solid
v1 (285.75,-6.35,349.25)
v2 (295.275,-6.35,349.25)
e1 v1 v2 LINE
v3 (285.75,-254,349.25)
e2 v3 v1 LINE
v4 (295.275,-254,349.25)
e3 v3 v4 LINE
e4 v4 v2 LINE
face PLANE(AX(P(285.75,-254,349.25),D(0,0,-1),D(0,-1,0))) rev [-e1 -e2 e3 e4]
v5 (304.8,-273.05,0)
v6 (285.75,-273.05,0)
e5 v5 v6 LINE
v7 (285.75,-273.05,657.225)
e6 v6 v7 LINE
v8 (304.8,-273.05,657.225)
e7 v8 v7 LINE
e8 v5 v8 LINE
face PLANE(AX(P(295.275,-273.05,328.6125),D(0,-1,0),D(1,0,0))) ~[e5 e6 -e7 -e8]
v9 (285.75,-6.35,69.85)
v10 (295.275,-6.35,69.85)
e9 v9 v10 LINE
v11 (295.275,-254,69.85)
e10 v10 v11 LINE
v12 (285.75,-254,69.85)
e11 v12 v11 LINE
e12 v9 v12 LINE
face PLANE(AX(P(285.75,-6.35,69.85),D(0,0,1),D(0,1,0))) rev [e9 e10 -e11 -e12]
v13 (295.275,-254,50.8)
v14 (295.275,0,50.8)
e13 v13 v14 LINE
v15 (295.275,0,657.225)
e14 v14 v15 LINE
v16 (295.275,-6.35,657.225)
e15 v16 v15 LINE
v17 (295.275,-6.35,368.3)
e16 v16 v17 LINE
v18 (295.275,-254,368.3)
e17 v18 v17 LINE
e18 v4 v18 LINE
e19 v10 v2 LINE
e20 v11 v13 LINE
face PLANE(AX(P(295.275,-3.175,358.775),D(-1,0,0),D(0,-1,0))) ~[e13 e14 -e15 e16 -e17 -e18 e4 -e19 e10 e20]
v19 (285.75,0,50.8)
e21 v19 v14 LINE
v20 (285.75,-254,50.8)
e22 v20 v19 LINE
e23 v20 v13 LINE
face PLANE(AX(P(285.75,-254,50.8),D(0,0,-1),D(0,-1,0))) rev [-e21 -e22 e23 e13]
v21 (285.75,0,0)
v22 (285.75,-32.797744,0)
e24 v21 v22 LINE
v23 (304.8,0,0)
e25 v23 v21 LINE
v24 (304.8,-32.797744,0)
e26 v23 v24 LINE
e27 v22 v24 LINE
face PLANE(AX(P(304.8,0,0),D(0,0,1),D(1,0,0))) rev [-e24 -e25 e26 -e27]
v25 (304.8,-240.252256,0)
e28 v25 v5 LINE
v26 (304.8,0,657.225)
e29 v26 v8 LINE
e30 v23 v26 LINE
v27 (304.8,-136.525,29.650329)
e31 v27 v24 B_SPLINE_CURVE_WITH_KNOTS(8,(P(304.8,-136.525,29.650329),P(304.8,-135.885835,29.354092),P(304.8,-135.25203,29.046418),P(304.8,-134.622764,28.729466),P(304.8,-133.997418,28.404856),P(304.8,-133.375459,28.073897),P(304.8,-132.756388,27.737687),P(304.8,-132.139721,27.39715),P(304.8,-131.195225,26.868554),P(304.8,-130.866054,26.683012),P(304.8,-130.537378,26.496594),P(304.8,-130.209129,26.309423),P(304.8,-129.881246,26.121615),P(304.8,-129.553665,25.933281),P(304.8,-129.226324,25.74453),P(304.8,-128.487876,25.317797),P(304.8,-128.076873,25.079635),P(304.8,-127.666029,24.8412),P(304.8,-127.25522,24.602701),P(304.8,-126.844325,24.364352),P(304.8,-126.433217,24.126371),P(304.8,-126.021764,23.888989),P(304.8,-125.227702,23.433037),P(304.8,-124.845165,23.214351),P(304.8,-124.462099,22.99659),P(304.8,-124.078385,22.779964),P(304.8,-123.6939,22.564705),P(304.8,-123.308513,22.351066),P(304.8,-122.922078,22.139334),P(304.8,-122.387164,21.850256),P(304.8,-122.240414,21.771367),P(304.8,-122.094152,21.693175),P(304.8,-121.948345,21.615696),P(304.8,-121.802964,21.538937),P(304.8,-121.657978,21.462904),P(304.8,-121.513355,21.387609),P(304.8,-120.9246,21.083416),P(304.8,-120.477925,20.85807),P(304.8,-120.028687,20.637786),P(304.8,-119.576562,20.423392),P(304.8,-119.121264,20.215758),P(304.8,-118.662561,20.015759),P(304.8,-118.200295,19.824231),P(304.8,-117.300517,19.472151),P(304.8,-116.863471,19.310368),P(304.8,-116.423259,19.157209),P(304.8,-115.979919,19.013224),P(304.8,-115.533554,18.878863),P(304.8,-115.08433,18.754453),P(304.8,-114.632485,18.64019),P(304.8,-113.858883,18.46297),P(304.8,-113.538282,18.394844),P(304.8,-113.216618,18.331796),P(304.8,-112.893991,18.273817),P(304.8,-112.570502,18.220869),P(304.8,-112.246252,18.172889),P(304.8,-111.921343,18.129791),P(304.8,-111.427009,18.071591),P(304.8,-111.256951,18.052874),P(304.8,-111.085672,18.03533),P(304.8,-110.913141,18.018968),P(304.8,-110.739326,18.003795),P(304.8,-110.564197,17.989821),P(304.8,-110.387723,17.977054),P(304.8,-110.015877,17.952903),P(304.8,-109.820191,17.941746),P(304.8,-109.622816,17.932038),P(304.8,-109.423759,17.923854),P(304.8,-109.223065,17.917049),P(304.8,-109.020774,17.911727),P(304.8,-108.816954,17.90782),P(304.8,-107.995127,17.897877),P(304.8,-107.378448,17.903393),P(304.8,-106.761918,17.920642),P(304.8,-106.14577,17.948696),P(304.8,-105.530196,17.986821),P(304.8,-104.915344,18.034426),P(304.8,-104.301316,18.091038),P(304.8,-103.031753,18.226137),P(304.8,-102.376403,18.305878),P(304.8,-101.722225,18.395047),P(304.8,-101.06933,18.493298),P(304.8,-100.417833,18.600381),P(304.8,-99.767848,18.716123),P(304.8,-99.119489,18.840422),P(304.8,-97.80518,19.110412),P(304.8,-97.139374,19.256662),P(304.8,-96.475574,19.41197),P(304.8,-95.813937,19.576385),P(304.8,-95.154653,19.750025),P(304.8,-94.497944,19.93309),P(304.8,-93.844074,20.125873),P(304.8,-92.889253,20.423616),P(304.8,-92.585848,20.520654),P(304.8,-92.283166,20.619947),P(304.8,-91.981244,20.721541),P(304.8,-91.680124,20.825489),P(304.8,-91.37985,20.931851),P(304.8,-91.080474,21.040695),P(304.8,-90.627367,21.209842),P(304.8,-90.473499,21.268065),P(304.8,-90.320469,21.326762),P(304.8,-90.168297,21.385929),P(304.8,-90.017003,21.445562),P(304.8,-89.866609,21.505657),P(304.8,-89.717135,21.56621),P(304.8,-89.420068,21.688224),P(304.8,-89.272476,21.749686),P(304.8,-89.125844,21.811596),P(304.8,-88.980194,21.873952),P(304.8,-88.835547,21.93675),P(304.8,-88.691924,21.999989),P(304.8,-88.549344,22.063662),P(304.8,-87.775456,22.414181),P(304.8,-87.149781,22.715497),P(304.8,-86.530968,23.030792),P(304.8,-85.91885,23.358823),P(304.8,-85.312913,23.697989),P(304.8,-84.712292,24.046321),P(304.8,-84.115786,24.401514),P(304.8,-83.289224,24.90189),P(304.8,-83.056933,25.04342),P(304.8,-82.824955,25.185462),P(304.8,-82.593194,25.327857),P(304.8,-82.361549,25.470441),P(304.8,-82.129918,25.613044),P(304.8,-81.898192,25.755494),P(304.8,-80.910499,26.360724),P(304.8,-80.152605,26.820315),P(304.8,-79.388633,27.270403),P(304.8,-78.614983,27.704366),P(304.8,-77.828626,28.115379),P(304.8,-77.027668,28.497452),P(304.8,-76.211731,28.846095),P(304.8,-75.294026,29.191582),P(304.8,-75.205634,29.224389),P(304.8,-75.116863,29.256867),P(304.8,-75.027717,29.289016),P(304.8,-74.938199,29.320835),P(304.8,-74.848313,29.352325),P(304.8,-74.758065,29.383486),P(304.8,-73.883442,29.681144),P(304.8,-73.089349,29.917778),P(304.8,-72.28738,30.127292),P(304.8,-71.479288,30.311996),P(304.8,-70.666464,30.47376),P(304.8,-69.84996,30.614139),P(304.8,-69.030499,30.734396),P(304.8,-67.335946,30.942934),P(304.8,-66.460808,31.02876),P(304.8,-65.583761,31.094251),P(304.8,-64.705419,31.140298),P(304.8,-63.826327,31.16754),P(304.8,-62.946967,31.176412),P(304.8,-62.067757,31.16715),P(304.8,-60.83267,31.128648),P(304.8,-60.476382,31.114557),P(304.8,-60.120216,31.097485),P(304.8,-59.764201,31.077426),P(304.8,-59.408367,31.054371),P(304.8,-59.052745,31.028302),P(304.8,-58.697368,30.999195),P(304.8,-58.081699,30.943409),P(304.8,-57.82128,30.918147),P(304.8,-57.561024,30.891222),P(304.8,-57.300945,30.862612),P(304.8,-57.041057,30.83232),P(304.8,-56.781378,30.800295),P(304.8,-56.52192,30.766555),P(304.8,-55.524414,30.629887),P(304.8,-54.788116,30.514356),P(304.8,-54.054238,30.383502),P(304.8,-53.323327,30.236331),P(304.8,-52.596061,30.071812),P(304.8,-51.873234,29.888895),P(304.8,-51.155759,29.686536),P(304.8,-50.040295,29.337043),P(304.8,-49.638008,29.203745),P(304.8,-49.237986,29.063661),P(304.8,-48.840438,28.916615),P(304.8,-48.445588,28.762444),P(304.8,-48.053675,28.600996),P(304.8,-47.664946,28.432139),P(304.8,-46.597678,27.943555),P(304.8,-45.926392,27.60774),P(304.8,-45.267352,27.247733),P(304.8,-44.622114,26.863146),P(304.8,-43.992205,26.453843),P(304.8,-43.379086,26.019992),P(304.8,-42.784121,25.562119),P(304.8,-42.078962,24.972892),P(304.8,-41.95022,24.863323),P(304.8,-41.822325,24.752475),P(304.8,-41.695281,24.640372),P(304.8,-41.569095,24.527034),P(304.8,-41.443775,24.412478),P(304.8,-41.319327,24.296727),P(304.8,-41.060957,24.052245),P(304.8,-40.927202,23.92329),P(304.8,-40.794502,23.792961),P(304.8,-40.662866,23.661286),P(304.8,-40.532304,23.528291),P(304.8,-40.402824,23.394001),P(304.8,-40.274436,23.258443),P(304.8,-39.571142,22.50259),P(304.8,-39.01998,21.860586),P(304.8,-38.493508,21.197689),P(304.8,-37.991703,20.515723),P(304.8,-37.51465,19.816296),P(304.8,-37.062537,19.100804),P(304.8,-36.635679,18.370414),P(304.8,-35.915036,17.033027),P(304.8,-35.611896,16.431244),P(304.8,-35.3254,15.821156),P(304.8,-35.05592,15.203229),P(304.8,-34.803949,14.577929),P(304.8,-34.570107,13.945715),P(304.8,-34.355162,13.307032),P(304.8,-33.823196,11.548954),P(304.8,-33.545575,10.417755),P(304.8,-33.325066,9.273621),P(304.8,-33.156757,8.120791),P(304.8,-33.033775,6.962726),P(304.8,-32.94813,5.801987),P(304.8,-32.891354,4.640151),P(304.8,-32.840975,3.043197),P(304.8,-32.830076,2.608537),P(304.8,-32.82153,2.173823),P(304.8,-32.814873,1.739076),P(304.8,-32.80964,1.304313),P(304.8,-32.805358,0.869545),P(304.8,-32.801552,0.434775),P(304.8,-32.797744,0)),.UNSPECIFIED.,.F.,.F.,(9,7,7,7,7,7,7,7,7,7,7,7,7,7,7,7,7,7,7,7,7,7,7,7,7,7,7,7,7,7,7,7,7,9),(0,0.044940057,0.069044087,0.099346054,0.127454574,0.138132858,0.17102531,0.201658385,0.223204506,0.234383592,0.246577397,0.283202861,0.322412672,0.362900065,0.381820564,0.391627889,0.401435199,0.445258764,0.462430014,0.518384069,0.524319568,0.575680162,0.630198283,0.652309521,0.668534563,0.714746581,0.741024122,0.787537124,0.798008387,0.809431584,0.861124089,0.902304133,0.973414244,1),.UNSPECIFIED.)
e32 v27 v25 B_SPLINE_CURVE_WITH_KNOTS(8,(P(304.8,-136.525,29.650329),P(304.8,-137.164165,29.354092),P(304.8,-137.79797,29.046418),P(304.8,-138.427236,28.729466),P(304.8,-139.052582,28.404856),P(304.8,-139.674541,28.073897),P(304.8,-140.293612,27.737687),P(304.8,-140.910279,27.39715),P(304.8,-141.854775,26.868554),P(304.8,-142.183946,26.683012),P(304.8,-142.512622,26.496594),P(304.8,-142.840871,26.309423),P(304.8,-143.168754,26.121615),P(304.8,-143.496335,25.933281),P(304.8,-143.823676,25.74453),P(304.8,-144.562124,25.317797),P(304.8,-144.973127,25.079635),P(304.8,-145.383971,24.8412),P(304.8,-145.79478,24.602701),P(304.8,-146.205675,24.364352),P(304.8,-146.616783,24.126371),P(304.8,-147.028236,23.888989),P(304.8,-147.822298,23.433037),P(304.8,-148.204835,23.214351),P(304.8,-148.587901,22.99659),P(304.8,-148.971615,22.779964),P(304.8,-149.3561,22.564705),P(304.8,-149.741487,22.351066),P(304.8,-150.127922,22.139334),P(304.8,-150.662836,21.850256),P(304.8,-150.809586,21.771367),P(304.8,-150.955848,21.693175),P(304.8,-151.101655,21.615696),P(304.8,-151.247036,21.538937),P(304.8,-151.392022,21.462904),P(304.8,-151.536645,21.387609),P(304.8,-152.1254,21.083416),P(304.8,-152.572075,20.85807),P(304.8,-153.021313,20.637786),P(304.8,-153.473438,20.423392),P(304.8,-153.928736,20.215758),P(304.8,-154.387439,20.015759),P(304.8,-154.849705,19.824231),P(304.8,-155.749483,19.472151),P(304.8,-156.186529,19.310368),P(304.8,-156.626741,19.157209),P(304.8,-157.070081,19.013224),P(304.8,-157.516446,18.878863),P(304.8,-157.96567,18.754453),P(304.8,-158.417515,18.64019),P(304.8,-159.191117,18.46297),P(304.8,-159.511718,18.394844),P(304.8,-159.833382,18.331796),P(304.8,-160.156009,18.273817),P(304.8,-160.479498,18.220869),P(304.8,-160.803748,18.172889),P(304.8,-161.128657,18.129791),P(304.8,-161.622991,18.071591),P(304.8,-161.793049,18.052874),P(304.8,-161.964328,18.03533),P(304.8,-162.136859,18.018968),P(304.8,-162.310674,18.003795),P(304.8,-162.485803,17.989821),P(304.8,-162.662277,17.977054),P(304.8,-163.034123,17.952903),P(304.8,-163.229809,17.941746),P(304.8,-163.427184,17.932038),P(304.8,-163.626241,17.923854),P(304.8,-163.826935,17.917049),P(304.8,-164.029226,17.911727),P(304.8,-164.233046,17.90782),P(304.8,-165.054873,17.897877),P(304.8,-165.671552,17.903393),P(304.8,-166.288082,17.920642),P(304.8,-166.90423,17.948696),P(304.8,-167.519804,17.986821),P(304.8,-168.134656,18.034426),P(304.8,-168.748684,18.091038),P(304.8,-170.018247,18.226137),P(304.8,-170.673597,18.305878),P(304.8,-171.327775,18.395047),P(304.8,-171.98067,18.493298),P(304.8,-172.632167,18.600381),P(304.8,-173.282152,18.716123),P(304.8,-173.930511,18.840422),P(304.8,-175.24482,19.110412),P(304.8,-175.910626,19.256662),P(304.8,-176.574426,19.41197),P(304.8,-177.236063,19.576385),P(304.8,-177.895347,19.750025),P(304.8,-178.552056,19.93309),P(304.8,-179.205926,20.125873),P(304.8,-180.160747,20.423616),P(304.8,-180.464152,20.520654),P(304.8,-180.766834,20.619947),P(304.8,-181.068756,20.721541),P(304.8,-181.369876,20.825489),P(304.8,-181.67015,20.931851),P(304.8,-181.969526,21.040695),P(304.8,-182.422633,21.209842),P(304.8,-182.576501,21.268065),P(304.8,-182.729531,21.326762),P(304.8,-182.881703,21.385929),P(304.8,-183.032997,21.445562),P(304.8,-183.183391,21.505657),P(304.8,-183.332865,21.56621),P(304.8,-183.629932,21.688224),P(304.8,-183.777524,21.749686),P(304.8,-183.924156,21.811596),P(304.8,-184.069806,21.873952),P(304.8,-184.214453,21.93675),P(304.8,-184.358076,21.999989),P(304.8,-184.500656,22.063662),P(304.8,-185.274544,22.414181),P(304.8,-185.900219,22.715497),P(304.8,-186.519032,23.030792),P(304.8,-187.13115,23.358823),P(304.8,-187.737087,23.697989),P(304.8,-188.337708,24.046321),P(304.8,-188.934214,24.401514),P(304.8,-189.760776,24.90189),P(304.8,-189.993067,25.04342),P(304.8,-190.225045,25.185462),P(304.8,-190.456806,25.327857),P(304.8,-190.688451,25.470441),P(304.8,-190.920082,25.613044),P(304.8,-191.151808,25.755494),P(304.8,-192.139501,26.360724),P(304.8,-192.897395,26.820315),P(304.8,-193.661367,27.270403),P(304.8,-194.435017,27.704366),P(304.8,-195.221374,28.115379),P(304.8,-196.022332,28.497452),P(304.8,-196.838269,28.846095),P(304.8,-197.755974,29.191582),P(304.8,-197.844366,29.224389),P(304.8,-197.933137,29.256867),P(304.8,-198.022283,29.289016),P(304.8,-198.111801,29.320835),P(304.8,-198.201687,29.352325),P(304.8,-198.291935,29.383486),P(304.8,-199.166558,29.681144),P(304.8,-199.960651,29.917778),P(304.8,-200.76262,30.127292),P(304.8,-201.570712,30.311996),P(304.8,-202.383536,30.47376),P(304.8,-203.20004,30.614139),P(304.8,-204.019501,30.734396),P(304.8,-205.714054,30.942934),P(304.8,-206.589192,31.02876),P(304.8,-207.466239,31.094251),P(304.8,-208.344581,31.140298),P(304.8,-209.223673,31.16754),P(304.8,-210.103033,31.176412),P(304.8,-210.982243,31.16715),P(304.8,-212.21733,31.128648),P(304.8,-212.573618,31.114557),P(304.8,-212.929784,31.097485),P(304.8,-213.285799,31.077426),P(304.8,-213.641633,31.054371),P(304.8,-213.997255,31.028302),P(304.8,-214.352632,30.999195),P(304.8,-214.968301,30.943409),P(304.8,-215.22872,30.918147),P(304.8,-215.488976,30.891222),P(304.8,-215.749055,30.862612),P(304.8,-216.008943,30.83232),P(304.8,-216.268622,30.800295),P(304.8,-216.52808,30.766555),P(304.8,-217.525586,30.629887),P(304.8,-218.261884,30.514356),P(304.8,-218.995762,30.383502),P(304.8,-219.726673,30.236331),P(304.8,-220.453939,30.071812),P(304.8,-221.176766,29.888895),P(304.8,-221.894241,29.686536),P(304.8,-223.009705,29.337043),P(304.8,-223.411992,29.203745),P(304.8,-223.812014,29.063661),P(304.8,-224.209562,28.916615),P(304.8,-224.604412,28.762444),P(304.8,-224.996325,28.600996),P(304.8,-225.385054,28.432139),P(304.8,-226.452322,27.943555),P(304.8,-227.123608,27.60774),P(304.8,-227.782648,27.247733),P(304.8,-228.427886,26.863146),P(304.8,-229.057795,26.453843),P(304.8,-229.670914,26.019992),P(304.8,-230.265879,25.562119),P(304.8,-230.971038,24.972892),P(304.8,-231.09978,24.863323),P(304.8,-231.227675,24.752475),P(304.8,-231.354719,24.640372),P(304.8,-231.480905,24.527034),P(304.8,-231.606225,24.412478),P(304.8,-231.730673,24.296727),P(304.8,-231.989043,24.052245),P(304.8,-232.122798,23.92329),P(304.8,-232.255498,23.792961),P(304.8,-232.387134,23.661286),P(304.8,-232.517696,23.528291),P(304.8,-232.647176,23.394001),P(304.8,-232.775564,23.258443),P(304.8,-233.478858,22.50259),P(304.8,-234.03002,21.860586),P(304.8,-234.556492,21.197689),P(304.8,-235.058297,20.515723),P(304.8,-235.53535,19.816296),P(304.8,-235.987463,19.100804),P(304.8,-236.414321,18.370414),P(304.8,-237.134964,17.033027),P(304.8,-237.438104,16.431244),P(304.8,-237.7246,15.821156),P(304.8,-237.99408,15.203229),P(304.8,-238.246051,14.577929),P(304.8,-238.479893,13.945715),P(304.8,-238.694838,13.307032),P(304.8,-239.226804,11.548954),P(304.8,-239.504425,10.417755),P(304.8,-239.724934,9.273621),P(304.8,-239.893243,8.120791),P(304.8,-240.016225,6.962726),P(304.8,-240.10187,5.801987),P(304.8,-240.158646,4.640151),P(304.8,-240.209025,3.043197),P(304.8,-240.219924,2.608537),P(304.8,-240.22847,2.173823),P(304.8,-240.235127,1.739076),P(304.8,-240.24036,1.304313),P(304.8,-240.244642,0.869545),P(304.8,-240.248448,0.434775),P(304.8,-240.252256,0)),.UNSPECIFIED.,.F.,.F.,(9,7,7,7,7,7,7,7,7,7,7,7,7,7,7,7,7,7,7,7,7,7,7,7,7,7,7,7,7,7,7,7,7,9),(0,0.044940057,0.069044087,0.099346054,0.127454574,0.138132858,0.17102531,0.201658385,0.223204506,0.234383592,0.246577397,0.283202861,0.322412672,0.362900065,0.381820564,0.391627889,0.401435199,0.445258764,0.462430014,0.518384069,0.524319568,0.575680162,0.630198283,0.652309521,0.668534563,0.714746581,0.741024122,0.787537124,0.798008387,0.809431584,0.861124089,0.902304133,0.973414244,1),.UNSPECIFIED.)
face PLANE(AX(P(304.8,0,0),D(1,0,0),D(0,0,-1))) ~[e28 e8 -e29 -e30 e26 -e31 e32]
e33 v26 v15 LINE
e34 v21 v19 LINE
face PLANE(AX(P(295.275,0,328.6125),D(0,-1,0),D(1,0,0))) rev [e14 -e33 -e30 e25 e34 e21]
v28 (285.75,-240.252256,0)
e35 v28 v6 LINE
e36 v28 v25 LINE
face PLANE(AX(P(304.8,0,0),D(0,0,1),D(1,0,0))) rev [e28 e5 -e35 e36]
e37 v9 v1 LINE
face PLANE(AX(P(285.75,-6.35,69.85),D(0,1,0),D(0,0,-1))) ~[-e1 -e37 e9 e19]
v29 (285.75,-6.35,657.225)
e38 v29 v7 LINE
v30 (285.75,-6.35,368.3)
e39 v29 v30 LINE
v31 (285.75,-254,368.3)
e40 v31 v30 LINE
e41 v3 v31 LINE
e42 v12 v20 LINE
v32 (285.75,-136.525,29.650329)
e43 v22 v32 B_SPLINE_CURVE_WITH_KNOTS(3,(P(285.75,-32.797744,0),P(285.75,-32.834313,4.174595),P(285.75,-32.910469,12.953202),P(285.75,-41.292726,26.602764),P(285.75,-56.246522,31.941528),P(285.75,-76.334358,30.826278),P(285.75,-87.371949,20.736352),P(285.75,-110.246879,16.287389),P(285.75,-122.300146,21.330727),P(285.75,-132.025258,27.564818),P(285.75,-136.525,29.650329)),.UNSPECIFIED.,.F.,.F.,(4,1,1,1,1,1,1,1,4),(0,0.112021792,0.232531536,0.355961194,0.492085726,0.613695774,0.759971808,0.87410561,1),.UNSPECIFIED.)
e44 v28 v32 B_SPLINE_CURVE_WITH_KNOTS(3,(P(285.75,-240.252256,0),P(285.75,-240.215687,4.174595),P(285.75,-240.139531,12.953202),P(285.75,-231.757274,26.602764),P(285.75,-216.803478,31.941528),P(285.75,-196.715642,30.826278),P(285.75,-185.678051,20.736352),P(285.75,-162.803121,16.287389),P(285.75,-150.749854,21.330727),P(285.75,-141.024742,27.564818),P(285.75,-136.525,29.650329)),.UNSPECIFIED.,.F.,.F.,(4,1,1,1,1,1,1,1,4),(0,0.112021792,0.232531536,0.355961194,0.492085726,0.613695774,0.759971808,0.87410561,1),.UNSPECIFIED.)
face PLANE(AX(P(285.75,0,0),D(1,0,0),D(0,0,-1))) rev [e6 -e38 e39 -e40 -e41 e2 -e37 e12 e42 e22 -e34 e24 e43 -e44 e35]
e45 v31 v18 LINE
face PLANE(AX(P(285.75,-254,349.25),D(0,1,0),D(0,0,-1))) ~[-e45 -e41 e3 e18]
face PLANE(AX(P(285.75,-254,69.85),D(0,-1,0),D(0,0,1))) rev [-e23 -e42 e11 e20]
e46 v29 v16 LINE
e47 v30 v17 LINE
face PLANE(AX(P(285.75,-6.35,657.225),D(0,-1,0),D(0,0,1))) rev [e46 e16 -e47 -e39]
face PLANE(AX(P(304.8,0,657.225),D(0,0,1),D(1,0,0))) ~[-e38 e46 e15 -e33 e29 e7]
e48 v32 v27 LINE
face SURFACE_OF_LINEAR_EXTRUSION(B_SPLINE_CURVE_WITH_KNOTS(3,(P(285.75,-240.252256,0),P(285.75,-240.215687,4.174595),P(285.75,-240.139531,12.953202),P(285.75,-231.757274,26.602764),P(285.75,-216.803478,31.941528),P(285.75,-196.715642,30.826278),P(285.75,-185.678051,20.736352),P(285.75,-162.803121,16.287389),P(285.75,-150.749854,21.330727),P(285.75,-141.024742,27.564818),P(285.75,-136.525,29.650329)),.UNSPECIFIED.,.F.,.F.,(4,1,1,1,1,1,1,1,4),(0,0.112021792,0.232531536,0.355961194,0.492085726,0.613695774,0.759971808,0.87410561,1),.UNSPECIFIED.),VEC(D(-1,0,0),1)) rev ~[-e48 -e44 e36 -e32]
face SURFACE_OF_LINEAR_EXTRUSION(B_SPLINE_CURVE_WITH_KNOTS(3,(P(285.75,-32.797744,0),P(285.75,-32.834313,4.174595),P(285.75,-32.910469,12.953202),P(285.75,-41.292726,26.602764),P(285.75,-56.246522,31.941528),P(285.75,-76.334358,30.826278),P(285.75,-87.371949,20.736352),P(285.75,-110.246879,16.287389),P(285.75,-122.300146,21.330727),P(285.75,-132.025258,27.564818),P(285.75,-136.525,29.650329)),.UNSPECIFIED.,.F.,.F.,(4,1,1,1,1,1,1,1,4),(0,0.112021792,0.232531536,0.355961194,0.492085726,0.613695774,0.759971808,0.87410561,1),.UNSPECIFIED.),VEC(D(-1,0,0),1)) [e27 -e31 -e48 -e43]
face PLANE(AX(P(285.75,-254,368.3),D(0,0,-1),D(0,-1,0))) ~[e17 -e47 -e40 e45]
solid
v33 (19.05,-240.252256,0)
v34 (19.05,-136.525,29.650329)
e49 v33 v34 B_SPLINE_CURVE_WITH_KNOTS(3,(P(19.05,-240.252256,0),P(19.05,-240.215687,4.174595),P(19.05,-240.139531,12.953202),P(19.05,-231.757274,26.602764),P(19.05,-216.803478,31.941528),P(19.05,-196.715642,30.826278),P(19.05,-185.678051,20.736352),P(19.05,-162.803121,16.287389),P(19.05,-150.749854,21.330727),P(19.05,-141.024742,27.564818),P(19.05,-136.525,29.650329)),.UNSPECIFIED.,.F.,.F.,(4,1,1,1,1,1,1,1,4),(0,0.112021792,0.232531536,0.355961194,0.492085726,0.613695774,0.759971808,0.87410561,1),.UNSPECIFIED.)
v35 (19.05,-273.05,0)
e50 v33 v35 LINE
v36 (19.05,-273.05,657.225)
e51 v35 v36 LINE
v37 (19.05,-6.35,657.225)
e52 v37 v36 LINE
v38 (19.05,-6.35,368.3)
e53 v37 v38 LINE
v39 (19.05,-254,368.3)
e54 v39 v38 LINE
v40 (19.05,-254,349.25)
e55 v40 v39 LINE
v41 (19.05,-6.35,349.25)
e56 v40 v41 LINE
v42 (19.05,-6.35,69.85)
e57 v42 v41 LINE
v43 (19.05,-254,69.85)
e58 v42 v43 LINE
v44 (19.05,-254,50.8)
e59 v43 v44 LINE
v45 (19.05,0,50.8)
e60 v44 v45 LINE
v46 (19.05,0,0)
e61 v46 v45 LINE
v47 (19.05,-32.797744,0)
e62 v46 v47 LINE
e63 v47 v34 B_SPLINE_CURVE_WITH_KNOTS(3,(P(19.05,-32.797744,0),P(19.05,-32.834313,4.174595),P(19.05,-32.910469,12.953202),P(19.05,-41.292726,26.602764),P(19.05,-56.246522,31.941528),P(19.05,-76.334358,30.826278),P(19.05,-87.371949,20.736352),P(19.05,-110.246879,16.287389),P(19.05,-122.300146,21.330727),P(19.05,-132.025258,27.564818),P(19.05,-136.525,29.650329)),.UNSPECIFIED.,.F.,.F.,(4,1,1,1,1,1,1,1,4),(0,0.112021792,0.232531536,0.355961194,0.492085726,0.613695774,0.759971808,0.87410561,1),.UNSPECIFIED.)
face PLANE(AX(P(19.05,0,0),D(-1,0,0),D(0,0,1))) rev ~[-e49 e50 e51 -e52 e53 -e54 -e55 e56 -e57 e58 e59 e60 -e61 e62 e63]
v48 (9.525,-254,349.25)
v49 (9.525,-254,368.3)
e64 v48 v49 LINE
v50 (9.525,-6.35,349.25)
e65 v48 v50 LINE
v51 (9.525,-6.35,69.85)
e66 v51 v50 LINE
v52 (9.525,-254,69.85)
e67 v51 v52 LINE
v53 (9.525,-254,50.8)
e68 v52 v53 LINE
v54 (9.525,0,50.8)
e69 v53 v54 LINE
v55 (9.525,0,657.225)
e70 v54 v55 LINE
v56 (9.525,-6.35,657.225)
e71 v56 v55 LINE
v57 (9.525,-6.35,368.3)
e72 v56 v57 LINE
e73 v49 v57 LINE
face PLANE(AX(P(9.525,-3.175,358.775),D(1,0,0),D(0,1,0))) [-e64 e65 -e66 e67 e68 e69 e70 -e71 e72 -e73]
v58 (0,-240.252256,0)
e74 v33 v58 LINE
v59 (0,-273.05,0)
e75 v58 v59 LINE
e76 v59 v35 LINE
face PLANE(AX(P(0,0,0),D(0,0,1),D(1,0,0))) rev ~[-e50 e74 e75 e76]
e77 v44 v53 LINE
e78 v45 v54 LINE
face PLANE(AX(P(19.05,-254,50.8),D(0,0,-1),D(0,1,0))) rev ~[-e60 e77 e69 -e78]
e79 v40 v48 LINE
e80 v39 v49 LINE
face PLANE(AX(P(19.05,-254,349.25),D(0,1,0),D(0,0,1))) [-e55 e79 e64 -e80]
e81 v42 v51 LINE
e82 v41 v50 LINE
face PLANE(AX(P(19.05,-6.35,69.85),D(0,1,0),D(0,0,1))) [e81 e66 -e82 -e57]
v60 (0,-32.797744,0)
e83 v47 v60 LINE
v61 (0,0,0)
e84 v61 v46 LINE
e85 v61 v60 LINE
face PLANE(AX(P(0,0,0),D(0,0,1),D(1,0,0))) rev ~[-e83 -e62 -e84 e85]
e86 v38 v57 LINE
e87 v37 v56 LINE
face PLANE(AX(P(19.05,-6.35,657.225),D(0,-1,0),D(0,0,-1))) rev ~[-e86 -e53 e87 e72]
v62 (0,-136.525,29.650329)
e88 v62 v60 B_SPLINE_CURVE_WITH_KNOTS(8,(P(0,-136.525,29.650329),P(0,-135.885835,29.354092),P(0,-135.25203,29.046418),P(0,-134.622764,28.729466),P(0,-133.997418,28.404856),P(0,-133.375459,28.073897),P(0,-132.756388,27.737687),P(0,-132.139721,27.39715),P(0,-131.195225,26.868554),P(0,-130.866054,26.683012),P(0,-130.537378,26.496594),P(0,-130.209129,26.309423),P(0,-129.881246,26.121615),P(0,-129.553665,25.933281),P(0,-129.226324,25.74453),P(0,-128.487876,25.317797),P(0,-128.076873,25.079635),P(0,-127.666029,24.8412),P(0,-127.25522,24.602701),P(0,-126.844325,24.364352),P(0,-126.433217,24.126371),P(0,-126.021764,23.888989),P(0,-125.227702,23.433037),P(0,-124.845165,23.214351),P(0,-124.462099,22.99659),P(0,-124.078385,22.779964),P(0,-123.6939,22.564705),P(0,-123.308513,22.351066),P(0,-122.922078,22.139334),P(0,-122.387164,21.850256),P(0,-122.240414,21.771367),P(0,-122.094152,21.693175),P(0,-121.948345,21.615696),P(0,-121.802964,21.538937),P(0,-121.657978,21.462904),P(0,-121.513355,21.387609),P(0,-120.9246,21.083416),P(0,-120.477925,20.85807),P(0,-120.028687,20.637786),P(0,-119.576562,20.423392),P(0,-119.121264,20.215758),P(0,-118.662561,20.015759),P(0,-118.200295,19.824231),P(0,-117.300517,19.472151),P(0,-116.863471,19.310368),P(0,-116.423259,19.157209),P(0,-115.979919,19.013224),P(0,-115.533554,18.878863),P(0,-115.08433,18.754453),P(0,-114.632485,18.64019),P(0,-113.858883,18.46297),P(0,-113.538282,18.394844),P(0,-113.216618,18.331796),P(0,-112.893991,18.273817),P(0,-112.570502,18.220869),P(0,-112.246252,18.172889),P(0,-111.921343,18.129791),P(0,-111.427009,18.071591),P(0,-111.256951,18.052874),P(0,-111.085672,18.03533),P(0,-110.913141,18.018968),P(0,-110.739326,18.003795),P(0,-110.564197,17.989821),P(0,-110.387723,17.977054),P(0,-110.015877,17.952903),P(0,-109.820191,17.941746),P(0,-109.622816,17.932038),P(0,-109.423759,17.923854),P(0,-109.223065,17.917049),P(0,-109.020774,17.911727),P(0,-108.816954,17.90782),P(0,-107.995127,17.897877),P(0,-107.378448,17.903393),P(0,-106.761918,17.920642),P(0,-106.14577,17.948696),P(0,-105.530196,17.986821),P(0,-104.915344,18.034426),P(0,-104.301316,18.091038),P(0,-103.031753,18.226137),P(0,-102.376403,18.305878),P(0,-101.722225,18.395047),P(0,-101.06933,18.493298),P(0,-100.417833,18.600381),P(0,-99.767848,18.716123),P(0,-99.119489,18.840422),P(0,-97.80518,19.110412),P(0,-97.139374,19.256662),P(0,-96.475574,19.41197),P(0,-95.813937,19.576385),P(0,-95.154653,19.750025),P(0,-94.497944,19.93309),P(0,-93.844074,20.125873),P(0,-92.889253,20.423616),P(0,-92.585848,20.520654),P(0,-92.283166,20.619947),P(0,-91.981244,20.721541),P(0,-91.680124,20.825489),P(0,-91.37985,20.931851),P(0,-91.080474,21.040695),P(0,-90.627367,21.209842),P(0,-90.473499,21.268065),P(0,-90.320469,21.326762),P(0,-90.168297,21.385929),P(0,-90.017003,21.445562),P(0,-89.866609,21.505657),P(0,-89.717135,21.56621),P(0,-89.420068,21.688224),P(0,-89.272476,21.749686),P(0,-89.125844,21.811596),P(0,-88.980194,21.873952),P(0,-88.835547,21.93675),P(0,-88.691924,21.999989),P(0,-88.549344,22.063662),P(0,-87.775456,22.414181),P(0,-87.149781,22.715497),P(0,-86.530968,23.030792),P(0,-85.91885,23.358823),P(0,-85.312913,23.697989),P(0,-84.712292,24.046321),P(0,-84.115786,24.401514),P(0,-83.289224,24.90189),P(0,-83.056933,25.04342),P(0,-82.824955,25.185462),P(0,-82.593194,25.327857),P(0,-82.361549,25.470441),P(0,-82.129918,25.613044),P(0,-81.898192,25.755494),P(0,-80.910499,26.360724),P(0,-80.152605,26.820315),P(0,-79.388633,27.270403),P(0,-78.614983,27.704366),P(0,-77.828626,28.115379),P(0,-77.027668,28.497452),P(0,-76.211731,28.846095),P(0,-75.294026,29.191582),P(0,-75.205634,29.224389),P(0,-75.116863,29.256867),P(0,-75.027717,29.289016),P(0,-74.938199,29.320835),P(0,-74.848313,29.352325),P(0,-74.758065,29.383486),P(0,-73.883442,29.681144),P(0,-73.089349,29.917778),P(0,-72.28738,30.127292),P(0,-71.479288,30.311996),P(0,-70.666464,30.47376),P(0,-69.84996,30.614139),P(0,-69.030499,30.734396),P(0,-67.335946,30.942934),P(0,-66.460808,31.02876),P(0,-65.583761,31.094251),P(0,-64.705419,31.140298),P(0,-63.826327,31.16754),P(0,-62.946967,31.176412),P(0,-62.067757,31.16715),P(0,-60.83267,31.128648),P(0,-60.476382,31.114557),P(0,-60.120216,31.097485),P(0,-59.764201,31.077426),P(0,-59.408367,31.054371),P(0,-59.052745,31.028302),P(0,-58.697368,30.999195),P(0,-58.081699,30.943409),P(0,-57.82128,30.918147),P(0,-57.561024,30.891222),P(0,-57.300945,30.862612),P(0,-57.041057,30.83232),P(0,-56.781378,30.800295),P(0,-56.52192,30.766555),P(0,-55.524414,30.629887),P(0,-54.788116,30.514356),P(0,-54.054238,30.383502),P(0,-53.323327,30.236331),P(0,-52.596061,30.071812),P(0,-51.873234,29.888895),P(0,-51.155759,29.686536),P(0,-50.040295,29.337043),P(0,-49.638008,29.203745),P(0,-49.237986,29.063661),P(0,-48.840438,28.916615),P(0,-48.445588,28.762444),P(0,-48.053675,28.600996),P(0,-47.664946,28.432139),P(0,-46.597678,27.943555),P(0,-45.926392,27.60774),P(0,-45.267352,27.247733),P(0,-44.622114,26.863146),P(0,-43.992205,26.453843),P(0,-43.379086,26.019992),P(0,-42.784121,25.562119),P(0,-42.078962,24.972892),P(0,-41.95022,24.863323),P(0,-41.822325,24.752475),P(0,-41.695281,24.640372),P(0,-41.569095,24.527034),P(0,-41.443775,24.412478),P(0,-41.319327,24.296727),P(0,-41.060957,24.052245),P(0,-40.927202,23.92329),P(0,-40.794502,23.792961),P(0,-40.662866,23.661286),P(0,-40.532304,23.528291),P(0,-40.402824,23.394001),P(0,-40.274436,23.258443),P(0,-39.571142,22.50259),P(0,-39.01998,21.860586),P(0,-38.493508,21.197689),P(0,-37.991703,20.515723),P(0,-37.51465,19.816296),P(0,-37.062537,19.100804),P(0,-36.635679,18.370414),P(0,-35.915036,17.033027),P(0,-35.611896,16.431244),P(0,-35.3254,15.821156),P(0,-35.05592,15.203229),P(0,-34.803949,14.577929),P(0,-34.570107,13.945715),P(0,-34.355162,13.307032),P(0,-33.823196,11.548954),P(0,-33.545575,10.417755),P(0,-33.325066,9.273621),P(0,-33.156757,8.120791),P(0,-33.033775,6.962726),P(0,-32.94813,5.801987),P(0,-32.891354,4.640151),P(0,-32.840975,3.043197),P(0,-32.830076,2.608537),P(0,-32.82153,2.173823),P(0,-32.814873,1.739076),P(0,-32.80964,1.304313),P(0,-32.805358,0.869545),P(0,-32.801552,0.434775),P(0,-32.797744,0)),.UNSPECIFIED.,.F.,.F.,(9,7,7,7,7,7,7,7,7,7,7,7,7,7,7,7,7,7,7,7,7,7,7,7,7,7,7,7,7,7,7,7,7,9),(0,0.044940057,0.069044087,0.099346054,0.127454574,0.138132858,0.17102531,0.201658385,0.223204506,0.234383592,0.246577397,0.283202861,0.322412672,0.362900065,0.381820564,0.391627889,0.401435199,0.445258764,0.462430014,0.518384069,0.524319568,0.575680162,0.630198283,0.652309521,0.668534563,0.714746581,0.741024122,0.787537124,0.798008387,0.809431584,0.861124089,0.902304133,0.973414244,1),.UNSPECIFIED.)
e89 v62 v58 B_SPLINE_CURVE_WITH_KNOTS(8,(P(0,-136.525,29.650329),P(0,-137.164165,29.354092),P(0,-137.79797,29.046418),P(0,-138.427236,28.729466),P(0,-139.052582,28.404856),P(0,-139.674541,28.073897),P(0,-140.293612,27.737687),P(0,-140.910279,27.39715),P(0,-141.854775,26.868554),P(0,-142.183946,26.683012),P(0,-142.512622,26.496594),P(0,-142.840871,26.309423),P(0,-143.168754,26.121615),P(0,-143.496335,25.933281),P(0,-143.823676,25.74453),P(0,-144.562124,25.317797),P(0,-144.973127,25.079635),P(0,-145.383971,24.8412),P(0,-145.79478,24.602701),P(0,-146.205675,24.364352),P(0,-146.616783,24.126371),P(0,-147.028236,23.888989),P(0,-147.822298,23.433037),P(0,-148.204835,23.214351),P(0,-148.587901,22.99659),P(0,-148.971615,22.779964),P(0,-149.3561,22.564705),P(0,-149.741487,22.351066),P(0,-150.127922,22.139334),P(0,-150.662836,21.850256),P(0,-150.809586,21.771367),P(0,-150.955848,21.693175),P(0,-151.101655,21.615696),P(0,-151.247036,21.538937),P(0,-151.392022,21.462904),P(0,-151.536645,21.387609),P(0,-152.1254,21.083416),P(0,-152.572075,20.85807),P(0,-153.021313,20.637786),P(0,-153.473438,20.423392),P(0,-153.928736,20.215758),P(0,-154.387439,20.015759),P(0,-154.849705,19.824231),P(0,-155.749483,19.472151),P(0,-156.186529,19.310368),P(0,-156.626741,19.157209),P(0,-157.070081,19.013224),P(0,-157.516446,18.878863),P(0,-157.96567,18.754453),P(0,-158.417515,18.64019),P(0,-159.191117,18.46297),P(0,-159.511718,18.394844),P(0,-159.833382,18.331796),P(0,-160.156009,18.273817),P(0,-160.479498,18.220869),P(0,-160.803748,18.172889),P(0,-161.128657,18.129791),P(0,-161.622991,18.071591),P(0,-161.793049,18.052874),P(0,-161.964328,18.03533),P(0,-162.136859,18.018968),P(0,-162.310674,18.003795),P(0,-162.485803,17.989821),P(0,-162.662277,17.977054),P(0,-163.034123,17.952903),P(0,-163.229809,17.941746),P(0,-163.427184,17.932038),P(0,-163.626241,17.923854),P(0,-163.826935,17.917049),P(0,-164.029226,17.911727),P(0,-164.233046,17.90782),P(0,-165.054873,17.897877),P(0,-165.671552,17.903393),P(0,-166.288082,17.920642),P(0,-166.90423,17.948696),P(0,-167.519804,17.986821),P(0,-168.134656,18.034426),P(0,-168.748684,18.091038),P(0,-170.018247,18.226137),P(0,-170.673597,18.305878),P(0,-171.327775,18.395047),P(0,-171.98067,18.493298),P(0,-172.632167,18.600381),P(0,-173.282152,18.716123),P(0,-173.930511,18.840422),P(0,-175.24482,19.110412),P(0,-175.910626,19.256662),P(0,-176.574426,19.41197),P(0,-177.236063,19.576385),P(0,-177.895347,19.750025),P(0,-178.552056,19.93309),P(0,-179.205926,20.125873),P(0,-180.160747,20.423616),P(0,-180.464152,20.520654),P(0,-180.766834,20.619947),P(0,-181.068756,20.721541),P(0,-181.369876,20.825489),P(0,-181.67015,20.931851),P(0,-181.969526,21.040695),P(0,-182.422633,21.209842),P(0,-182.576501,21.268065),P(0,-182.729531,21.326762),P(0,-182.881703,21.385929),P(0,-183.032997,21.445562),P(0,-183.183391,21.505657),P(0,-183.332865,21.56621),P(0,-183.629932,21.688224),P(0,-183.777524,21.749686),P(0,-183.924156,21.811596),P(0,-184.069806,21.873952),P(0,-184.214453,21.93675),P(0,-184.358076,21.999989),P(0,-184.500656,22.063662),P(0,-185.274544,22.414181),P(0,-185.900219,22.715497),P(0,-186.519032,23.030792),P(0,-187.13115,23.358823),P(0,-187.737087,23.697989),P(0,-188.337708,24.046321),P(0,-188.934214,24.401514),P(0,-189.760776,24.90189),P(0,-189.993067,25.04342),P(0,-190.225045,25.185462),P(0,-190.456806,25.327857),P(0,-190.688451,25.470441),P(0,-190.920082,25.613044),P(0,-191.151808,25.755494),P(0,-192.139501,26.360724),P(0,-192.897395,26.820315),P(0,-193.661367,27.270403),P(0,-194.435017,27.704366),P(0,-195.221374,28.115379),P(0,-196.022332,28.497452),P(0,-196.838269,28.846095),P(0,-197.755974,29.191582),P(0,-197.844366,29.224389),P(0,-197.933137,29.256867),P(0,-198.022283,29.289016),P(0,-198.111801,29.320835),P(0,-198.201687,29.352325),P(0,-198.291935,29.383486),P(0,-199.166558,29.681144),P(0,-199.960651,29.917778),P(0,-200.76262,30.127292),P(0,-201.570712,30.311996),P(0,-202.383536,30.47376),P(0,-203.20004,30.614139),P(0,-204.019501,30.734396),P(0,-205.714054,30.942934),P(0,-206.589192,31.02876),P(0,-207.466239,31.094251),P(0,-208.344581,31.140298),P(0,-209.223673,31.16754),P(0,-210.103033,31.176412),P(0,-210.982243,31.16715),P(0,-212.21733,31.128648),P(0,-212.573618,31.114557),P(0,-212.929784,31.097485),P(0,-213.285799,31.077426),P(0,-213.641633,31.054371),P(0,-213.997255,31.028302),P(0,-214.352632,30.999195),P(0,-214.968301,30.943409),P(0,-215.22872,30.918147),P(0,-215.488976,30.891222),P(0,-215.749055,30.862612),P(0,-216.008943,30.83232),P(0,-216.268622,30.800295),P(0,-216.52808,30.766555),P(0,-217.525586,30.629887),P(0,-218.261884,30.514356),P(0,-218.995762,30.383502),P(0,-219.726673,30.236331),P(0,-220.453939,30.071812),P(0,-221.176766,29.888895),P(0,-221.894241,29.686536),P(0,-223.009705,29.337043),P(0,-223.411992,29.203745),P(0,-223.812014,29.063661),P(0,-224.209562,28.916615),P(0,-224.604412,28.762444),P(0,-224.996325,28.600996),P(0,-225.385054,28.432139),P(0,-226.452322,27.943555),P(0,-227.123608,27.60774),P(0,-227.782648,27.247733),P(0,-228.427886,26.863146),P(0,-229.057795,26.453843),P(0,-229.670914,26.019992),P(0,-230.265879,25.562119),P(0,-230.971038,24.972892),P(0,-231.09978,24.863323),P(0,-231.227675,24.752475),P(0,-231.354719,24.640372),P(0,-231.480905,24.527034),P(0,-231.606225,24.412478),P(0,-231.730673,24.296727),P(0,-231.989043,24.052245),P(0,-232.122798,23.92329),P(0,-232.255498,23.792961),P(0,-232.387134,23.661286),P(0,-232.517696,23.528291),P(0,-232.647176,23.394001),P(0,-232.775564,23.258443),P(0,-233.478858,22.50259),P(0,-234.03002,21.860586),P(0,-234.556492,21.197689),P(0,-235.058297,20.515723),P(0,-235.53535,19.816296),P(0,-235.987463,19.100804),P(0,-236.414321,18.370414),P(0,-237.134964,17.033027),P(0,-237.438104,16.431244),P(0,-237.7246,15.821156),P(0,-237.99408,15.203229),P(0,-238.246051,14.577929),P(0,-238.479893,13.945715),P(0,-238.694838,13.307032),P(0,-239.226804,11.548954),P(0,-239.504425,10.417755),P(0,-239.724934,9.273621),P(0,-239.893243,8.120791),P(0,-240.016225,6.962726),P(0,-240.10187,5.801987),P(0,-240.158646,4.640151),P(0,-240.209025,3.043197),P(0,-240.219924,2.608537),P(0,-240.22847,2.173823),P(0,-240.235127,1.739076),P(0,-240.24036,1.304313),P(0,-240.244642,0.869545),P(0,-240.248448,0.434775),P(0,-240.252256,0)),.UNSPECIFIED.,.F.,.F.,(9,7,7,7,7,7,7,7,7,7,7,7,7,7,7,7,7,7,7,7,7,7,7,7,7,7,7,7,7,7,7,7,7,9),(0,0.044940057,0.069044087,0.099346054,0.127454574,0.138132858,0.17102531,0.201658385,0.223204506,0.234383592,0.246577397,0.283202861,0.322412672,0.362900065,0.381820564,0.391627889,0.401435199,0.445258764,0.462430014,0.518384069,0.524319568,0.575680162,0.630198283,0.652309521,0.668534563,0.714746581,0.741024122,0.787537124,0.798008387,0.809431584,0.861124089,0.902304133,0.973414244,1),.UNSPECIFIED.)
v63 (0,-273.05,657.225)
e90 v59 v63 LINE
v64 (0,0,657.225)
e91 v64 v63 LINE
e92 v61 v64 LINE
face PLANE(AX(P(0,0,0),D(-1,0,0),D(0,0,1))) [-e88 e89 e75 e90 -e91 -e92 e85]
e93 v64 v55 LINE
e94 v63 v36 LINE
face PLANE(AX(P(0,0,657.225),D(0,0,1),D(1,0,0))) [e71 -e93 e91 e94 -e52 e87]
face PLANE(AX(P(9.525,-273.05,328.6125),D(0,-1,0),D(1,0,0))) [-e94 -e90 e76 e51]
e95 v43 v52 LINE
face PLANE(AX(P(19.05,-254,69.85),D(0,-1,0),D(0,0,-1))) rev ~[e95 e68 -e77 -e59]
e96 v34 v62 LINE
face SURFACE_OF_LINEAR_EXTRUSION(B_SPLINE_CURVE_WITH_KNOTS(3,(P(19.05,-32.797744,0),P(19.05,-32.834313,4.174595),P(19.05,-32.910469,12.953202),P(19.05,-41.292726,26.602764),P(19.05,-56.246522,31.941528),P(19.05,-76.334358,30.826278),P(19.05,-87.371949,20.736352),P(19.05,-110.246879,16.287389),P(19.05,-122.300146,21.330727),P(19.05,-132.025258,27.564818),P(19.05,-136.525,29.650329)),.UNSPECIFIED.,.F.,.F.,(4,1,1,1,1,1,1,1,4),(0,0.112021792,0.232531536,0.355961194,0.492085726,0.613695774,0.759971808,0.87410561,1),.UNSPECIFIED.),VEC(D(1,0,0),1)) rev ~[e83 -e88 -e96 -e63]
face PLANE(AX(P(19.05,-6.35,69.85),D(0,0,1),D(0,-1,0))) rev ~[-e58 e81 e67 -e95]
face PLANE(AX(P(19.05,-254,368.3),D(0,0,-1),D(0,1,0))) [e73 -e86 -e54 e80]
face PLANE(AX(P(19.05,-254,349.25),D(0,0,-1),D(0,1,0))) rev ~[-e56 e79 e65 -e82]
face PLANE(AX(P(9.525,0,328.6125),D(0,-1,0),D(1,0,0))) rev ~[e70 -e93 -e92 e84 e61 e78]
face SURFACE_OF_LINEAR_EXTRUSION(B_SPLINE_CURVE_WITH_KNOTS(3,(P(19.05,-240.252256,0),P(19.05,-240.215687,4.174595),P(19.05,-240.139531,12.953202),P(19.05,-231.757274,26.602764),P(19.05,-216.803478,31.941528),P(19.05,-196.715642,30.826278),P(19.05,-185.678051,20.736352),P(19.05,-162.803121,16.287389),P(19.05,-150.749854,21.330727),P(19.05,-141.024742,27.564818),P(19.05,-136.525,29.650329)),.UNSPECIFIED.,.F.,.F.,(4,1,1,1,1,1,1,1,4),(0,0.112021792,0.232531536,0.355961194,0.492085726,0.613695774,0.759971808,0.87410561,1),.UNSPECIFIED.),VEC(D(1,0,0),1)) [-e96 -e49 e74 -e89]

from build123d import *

# Parameters (mm, degrees)
F0_W     = 19.05
F0_H     = 657.225
F1_DEPTH = 273.05
F2_W     = 6.35
F2_H     = 19.05
F2_H_2   = 288.925
F2_W_2   = 247.65
F2_H_3   = 279.4
F3_DEPTH = 9.525
F5_DEPTH = 25.4


with BuildPart() as f1:
    # F0 (on Front) → F1 (new body)
    with BuildSketch(Plane.XZ):
        with Locations((9.525, 328.6125)):
            Rectangle(F0_W, F0_H)
    extrude(amount=F1_DEPTH)

    # F2 (on face) → F3 (cut)
    with BuildSketch(Plane.YZ.offset(19.05)):
        with Locations((-3.175, 358.775)):
            Rectangle(F2_W, F2_H)
        with Locations((-3.175, 512.7625)):
            Rectangle(F2_W, F2_H_2)
        with Locations((-130.175, 358.775)):
            Rectangle(F2_W_2, F2_H)
        with Locations((-3.175, 209.55)):
            Rectangle(F2_W, F2_H_3)
        Polygon((0, 50.8), (0, 69.85), (-6.35, 69.85), (-254, 69.85), (-254, 50.8), align=None)
    extrude(amount=-F3_DEPTH, mode=Mode.SUBTRACT)

    # F4 (on face) → F5 (cut)
    with BuildSketch(Plane.YZ.offset(19.05)):
        with BuildLine():
            Line((-240.2522563934, 0), (-136.525, 0))
            Line((-136.525, 0), (-136.525, 29.6503286809))
            add(Edge.make_bspline(
                [(-240.2522563934, 0), (-240.2156873879, 4.1745950735), (-240.1395307598, 12.9532015232), (-231.7572735519, 26.602763893), (-216.8034780579, 31.9415278641), (-196.7156415017, 30.8262784524), (-185.6780505896, 20.7363519544), (-162.8031207123, 16.2873893766), (-150.7498544318, 21.3307274369), (-141.0247415194, 27.5648176301), (-136.525, 29.6503286809)],
                knots=[0, 0, 0, 0, 0.112021792, 0.2325315361, 0.3559611943, 0.4920857255, 0.6136957742, 0.7599718075, 0.8741056104, 1, 1, 1, 1], degree=3))
        make_face()
        with BuildLine():
            Line((-136.525, 29.6503286809), (-136.525, 0))
            Line((-136.525, 0), (-32.7977436066, 0))
            add(Edge.make_bspline(
                [(-32.7977436066, 0), (-32.8343126121, 4.1745950735), (-32.9104692402, 12.9532015232), (-41.2927264481, 26.602763893), (-56.2465219421, 31.9415278641), (-76.3343584983, 30.8262784524), (-87.3719494104, 20.7363519544), (-110.2468792877, 16.2873893766), (-122.3001455682, 21.3307274369), (-132.0252584806, 27.5648176301), (-136.525, 29.6503286809)],
                knots=[0, 0, 0, 0, 0.112021792, 0.2325315361, 0.3559611943, 0.4920857255, 0.6136957742, 0.7599718075, 0.8741056104, 1, 1, 1, 1], degree=3))
        make_face()
    extrude(amount=-F5_DEPTH, mode=Mode.SUBTRACT)


with BuildPart() as f7_1:
    # F7: instance of F1
    add(f1.part.mirror(Plane.YZ.offset(152.4)))


solid = Compound([f1.part, f7_1.part])
